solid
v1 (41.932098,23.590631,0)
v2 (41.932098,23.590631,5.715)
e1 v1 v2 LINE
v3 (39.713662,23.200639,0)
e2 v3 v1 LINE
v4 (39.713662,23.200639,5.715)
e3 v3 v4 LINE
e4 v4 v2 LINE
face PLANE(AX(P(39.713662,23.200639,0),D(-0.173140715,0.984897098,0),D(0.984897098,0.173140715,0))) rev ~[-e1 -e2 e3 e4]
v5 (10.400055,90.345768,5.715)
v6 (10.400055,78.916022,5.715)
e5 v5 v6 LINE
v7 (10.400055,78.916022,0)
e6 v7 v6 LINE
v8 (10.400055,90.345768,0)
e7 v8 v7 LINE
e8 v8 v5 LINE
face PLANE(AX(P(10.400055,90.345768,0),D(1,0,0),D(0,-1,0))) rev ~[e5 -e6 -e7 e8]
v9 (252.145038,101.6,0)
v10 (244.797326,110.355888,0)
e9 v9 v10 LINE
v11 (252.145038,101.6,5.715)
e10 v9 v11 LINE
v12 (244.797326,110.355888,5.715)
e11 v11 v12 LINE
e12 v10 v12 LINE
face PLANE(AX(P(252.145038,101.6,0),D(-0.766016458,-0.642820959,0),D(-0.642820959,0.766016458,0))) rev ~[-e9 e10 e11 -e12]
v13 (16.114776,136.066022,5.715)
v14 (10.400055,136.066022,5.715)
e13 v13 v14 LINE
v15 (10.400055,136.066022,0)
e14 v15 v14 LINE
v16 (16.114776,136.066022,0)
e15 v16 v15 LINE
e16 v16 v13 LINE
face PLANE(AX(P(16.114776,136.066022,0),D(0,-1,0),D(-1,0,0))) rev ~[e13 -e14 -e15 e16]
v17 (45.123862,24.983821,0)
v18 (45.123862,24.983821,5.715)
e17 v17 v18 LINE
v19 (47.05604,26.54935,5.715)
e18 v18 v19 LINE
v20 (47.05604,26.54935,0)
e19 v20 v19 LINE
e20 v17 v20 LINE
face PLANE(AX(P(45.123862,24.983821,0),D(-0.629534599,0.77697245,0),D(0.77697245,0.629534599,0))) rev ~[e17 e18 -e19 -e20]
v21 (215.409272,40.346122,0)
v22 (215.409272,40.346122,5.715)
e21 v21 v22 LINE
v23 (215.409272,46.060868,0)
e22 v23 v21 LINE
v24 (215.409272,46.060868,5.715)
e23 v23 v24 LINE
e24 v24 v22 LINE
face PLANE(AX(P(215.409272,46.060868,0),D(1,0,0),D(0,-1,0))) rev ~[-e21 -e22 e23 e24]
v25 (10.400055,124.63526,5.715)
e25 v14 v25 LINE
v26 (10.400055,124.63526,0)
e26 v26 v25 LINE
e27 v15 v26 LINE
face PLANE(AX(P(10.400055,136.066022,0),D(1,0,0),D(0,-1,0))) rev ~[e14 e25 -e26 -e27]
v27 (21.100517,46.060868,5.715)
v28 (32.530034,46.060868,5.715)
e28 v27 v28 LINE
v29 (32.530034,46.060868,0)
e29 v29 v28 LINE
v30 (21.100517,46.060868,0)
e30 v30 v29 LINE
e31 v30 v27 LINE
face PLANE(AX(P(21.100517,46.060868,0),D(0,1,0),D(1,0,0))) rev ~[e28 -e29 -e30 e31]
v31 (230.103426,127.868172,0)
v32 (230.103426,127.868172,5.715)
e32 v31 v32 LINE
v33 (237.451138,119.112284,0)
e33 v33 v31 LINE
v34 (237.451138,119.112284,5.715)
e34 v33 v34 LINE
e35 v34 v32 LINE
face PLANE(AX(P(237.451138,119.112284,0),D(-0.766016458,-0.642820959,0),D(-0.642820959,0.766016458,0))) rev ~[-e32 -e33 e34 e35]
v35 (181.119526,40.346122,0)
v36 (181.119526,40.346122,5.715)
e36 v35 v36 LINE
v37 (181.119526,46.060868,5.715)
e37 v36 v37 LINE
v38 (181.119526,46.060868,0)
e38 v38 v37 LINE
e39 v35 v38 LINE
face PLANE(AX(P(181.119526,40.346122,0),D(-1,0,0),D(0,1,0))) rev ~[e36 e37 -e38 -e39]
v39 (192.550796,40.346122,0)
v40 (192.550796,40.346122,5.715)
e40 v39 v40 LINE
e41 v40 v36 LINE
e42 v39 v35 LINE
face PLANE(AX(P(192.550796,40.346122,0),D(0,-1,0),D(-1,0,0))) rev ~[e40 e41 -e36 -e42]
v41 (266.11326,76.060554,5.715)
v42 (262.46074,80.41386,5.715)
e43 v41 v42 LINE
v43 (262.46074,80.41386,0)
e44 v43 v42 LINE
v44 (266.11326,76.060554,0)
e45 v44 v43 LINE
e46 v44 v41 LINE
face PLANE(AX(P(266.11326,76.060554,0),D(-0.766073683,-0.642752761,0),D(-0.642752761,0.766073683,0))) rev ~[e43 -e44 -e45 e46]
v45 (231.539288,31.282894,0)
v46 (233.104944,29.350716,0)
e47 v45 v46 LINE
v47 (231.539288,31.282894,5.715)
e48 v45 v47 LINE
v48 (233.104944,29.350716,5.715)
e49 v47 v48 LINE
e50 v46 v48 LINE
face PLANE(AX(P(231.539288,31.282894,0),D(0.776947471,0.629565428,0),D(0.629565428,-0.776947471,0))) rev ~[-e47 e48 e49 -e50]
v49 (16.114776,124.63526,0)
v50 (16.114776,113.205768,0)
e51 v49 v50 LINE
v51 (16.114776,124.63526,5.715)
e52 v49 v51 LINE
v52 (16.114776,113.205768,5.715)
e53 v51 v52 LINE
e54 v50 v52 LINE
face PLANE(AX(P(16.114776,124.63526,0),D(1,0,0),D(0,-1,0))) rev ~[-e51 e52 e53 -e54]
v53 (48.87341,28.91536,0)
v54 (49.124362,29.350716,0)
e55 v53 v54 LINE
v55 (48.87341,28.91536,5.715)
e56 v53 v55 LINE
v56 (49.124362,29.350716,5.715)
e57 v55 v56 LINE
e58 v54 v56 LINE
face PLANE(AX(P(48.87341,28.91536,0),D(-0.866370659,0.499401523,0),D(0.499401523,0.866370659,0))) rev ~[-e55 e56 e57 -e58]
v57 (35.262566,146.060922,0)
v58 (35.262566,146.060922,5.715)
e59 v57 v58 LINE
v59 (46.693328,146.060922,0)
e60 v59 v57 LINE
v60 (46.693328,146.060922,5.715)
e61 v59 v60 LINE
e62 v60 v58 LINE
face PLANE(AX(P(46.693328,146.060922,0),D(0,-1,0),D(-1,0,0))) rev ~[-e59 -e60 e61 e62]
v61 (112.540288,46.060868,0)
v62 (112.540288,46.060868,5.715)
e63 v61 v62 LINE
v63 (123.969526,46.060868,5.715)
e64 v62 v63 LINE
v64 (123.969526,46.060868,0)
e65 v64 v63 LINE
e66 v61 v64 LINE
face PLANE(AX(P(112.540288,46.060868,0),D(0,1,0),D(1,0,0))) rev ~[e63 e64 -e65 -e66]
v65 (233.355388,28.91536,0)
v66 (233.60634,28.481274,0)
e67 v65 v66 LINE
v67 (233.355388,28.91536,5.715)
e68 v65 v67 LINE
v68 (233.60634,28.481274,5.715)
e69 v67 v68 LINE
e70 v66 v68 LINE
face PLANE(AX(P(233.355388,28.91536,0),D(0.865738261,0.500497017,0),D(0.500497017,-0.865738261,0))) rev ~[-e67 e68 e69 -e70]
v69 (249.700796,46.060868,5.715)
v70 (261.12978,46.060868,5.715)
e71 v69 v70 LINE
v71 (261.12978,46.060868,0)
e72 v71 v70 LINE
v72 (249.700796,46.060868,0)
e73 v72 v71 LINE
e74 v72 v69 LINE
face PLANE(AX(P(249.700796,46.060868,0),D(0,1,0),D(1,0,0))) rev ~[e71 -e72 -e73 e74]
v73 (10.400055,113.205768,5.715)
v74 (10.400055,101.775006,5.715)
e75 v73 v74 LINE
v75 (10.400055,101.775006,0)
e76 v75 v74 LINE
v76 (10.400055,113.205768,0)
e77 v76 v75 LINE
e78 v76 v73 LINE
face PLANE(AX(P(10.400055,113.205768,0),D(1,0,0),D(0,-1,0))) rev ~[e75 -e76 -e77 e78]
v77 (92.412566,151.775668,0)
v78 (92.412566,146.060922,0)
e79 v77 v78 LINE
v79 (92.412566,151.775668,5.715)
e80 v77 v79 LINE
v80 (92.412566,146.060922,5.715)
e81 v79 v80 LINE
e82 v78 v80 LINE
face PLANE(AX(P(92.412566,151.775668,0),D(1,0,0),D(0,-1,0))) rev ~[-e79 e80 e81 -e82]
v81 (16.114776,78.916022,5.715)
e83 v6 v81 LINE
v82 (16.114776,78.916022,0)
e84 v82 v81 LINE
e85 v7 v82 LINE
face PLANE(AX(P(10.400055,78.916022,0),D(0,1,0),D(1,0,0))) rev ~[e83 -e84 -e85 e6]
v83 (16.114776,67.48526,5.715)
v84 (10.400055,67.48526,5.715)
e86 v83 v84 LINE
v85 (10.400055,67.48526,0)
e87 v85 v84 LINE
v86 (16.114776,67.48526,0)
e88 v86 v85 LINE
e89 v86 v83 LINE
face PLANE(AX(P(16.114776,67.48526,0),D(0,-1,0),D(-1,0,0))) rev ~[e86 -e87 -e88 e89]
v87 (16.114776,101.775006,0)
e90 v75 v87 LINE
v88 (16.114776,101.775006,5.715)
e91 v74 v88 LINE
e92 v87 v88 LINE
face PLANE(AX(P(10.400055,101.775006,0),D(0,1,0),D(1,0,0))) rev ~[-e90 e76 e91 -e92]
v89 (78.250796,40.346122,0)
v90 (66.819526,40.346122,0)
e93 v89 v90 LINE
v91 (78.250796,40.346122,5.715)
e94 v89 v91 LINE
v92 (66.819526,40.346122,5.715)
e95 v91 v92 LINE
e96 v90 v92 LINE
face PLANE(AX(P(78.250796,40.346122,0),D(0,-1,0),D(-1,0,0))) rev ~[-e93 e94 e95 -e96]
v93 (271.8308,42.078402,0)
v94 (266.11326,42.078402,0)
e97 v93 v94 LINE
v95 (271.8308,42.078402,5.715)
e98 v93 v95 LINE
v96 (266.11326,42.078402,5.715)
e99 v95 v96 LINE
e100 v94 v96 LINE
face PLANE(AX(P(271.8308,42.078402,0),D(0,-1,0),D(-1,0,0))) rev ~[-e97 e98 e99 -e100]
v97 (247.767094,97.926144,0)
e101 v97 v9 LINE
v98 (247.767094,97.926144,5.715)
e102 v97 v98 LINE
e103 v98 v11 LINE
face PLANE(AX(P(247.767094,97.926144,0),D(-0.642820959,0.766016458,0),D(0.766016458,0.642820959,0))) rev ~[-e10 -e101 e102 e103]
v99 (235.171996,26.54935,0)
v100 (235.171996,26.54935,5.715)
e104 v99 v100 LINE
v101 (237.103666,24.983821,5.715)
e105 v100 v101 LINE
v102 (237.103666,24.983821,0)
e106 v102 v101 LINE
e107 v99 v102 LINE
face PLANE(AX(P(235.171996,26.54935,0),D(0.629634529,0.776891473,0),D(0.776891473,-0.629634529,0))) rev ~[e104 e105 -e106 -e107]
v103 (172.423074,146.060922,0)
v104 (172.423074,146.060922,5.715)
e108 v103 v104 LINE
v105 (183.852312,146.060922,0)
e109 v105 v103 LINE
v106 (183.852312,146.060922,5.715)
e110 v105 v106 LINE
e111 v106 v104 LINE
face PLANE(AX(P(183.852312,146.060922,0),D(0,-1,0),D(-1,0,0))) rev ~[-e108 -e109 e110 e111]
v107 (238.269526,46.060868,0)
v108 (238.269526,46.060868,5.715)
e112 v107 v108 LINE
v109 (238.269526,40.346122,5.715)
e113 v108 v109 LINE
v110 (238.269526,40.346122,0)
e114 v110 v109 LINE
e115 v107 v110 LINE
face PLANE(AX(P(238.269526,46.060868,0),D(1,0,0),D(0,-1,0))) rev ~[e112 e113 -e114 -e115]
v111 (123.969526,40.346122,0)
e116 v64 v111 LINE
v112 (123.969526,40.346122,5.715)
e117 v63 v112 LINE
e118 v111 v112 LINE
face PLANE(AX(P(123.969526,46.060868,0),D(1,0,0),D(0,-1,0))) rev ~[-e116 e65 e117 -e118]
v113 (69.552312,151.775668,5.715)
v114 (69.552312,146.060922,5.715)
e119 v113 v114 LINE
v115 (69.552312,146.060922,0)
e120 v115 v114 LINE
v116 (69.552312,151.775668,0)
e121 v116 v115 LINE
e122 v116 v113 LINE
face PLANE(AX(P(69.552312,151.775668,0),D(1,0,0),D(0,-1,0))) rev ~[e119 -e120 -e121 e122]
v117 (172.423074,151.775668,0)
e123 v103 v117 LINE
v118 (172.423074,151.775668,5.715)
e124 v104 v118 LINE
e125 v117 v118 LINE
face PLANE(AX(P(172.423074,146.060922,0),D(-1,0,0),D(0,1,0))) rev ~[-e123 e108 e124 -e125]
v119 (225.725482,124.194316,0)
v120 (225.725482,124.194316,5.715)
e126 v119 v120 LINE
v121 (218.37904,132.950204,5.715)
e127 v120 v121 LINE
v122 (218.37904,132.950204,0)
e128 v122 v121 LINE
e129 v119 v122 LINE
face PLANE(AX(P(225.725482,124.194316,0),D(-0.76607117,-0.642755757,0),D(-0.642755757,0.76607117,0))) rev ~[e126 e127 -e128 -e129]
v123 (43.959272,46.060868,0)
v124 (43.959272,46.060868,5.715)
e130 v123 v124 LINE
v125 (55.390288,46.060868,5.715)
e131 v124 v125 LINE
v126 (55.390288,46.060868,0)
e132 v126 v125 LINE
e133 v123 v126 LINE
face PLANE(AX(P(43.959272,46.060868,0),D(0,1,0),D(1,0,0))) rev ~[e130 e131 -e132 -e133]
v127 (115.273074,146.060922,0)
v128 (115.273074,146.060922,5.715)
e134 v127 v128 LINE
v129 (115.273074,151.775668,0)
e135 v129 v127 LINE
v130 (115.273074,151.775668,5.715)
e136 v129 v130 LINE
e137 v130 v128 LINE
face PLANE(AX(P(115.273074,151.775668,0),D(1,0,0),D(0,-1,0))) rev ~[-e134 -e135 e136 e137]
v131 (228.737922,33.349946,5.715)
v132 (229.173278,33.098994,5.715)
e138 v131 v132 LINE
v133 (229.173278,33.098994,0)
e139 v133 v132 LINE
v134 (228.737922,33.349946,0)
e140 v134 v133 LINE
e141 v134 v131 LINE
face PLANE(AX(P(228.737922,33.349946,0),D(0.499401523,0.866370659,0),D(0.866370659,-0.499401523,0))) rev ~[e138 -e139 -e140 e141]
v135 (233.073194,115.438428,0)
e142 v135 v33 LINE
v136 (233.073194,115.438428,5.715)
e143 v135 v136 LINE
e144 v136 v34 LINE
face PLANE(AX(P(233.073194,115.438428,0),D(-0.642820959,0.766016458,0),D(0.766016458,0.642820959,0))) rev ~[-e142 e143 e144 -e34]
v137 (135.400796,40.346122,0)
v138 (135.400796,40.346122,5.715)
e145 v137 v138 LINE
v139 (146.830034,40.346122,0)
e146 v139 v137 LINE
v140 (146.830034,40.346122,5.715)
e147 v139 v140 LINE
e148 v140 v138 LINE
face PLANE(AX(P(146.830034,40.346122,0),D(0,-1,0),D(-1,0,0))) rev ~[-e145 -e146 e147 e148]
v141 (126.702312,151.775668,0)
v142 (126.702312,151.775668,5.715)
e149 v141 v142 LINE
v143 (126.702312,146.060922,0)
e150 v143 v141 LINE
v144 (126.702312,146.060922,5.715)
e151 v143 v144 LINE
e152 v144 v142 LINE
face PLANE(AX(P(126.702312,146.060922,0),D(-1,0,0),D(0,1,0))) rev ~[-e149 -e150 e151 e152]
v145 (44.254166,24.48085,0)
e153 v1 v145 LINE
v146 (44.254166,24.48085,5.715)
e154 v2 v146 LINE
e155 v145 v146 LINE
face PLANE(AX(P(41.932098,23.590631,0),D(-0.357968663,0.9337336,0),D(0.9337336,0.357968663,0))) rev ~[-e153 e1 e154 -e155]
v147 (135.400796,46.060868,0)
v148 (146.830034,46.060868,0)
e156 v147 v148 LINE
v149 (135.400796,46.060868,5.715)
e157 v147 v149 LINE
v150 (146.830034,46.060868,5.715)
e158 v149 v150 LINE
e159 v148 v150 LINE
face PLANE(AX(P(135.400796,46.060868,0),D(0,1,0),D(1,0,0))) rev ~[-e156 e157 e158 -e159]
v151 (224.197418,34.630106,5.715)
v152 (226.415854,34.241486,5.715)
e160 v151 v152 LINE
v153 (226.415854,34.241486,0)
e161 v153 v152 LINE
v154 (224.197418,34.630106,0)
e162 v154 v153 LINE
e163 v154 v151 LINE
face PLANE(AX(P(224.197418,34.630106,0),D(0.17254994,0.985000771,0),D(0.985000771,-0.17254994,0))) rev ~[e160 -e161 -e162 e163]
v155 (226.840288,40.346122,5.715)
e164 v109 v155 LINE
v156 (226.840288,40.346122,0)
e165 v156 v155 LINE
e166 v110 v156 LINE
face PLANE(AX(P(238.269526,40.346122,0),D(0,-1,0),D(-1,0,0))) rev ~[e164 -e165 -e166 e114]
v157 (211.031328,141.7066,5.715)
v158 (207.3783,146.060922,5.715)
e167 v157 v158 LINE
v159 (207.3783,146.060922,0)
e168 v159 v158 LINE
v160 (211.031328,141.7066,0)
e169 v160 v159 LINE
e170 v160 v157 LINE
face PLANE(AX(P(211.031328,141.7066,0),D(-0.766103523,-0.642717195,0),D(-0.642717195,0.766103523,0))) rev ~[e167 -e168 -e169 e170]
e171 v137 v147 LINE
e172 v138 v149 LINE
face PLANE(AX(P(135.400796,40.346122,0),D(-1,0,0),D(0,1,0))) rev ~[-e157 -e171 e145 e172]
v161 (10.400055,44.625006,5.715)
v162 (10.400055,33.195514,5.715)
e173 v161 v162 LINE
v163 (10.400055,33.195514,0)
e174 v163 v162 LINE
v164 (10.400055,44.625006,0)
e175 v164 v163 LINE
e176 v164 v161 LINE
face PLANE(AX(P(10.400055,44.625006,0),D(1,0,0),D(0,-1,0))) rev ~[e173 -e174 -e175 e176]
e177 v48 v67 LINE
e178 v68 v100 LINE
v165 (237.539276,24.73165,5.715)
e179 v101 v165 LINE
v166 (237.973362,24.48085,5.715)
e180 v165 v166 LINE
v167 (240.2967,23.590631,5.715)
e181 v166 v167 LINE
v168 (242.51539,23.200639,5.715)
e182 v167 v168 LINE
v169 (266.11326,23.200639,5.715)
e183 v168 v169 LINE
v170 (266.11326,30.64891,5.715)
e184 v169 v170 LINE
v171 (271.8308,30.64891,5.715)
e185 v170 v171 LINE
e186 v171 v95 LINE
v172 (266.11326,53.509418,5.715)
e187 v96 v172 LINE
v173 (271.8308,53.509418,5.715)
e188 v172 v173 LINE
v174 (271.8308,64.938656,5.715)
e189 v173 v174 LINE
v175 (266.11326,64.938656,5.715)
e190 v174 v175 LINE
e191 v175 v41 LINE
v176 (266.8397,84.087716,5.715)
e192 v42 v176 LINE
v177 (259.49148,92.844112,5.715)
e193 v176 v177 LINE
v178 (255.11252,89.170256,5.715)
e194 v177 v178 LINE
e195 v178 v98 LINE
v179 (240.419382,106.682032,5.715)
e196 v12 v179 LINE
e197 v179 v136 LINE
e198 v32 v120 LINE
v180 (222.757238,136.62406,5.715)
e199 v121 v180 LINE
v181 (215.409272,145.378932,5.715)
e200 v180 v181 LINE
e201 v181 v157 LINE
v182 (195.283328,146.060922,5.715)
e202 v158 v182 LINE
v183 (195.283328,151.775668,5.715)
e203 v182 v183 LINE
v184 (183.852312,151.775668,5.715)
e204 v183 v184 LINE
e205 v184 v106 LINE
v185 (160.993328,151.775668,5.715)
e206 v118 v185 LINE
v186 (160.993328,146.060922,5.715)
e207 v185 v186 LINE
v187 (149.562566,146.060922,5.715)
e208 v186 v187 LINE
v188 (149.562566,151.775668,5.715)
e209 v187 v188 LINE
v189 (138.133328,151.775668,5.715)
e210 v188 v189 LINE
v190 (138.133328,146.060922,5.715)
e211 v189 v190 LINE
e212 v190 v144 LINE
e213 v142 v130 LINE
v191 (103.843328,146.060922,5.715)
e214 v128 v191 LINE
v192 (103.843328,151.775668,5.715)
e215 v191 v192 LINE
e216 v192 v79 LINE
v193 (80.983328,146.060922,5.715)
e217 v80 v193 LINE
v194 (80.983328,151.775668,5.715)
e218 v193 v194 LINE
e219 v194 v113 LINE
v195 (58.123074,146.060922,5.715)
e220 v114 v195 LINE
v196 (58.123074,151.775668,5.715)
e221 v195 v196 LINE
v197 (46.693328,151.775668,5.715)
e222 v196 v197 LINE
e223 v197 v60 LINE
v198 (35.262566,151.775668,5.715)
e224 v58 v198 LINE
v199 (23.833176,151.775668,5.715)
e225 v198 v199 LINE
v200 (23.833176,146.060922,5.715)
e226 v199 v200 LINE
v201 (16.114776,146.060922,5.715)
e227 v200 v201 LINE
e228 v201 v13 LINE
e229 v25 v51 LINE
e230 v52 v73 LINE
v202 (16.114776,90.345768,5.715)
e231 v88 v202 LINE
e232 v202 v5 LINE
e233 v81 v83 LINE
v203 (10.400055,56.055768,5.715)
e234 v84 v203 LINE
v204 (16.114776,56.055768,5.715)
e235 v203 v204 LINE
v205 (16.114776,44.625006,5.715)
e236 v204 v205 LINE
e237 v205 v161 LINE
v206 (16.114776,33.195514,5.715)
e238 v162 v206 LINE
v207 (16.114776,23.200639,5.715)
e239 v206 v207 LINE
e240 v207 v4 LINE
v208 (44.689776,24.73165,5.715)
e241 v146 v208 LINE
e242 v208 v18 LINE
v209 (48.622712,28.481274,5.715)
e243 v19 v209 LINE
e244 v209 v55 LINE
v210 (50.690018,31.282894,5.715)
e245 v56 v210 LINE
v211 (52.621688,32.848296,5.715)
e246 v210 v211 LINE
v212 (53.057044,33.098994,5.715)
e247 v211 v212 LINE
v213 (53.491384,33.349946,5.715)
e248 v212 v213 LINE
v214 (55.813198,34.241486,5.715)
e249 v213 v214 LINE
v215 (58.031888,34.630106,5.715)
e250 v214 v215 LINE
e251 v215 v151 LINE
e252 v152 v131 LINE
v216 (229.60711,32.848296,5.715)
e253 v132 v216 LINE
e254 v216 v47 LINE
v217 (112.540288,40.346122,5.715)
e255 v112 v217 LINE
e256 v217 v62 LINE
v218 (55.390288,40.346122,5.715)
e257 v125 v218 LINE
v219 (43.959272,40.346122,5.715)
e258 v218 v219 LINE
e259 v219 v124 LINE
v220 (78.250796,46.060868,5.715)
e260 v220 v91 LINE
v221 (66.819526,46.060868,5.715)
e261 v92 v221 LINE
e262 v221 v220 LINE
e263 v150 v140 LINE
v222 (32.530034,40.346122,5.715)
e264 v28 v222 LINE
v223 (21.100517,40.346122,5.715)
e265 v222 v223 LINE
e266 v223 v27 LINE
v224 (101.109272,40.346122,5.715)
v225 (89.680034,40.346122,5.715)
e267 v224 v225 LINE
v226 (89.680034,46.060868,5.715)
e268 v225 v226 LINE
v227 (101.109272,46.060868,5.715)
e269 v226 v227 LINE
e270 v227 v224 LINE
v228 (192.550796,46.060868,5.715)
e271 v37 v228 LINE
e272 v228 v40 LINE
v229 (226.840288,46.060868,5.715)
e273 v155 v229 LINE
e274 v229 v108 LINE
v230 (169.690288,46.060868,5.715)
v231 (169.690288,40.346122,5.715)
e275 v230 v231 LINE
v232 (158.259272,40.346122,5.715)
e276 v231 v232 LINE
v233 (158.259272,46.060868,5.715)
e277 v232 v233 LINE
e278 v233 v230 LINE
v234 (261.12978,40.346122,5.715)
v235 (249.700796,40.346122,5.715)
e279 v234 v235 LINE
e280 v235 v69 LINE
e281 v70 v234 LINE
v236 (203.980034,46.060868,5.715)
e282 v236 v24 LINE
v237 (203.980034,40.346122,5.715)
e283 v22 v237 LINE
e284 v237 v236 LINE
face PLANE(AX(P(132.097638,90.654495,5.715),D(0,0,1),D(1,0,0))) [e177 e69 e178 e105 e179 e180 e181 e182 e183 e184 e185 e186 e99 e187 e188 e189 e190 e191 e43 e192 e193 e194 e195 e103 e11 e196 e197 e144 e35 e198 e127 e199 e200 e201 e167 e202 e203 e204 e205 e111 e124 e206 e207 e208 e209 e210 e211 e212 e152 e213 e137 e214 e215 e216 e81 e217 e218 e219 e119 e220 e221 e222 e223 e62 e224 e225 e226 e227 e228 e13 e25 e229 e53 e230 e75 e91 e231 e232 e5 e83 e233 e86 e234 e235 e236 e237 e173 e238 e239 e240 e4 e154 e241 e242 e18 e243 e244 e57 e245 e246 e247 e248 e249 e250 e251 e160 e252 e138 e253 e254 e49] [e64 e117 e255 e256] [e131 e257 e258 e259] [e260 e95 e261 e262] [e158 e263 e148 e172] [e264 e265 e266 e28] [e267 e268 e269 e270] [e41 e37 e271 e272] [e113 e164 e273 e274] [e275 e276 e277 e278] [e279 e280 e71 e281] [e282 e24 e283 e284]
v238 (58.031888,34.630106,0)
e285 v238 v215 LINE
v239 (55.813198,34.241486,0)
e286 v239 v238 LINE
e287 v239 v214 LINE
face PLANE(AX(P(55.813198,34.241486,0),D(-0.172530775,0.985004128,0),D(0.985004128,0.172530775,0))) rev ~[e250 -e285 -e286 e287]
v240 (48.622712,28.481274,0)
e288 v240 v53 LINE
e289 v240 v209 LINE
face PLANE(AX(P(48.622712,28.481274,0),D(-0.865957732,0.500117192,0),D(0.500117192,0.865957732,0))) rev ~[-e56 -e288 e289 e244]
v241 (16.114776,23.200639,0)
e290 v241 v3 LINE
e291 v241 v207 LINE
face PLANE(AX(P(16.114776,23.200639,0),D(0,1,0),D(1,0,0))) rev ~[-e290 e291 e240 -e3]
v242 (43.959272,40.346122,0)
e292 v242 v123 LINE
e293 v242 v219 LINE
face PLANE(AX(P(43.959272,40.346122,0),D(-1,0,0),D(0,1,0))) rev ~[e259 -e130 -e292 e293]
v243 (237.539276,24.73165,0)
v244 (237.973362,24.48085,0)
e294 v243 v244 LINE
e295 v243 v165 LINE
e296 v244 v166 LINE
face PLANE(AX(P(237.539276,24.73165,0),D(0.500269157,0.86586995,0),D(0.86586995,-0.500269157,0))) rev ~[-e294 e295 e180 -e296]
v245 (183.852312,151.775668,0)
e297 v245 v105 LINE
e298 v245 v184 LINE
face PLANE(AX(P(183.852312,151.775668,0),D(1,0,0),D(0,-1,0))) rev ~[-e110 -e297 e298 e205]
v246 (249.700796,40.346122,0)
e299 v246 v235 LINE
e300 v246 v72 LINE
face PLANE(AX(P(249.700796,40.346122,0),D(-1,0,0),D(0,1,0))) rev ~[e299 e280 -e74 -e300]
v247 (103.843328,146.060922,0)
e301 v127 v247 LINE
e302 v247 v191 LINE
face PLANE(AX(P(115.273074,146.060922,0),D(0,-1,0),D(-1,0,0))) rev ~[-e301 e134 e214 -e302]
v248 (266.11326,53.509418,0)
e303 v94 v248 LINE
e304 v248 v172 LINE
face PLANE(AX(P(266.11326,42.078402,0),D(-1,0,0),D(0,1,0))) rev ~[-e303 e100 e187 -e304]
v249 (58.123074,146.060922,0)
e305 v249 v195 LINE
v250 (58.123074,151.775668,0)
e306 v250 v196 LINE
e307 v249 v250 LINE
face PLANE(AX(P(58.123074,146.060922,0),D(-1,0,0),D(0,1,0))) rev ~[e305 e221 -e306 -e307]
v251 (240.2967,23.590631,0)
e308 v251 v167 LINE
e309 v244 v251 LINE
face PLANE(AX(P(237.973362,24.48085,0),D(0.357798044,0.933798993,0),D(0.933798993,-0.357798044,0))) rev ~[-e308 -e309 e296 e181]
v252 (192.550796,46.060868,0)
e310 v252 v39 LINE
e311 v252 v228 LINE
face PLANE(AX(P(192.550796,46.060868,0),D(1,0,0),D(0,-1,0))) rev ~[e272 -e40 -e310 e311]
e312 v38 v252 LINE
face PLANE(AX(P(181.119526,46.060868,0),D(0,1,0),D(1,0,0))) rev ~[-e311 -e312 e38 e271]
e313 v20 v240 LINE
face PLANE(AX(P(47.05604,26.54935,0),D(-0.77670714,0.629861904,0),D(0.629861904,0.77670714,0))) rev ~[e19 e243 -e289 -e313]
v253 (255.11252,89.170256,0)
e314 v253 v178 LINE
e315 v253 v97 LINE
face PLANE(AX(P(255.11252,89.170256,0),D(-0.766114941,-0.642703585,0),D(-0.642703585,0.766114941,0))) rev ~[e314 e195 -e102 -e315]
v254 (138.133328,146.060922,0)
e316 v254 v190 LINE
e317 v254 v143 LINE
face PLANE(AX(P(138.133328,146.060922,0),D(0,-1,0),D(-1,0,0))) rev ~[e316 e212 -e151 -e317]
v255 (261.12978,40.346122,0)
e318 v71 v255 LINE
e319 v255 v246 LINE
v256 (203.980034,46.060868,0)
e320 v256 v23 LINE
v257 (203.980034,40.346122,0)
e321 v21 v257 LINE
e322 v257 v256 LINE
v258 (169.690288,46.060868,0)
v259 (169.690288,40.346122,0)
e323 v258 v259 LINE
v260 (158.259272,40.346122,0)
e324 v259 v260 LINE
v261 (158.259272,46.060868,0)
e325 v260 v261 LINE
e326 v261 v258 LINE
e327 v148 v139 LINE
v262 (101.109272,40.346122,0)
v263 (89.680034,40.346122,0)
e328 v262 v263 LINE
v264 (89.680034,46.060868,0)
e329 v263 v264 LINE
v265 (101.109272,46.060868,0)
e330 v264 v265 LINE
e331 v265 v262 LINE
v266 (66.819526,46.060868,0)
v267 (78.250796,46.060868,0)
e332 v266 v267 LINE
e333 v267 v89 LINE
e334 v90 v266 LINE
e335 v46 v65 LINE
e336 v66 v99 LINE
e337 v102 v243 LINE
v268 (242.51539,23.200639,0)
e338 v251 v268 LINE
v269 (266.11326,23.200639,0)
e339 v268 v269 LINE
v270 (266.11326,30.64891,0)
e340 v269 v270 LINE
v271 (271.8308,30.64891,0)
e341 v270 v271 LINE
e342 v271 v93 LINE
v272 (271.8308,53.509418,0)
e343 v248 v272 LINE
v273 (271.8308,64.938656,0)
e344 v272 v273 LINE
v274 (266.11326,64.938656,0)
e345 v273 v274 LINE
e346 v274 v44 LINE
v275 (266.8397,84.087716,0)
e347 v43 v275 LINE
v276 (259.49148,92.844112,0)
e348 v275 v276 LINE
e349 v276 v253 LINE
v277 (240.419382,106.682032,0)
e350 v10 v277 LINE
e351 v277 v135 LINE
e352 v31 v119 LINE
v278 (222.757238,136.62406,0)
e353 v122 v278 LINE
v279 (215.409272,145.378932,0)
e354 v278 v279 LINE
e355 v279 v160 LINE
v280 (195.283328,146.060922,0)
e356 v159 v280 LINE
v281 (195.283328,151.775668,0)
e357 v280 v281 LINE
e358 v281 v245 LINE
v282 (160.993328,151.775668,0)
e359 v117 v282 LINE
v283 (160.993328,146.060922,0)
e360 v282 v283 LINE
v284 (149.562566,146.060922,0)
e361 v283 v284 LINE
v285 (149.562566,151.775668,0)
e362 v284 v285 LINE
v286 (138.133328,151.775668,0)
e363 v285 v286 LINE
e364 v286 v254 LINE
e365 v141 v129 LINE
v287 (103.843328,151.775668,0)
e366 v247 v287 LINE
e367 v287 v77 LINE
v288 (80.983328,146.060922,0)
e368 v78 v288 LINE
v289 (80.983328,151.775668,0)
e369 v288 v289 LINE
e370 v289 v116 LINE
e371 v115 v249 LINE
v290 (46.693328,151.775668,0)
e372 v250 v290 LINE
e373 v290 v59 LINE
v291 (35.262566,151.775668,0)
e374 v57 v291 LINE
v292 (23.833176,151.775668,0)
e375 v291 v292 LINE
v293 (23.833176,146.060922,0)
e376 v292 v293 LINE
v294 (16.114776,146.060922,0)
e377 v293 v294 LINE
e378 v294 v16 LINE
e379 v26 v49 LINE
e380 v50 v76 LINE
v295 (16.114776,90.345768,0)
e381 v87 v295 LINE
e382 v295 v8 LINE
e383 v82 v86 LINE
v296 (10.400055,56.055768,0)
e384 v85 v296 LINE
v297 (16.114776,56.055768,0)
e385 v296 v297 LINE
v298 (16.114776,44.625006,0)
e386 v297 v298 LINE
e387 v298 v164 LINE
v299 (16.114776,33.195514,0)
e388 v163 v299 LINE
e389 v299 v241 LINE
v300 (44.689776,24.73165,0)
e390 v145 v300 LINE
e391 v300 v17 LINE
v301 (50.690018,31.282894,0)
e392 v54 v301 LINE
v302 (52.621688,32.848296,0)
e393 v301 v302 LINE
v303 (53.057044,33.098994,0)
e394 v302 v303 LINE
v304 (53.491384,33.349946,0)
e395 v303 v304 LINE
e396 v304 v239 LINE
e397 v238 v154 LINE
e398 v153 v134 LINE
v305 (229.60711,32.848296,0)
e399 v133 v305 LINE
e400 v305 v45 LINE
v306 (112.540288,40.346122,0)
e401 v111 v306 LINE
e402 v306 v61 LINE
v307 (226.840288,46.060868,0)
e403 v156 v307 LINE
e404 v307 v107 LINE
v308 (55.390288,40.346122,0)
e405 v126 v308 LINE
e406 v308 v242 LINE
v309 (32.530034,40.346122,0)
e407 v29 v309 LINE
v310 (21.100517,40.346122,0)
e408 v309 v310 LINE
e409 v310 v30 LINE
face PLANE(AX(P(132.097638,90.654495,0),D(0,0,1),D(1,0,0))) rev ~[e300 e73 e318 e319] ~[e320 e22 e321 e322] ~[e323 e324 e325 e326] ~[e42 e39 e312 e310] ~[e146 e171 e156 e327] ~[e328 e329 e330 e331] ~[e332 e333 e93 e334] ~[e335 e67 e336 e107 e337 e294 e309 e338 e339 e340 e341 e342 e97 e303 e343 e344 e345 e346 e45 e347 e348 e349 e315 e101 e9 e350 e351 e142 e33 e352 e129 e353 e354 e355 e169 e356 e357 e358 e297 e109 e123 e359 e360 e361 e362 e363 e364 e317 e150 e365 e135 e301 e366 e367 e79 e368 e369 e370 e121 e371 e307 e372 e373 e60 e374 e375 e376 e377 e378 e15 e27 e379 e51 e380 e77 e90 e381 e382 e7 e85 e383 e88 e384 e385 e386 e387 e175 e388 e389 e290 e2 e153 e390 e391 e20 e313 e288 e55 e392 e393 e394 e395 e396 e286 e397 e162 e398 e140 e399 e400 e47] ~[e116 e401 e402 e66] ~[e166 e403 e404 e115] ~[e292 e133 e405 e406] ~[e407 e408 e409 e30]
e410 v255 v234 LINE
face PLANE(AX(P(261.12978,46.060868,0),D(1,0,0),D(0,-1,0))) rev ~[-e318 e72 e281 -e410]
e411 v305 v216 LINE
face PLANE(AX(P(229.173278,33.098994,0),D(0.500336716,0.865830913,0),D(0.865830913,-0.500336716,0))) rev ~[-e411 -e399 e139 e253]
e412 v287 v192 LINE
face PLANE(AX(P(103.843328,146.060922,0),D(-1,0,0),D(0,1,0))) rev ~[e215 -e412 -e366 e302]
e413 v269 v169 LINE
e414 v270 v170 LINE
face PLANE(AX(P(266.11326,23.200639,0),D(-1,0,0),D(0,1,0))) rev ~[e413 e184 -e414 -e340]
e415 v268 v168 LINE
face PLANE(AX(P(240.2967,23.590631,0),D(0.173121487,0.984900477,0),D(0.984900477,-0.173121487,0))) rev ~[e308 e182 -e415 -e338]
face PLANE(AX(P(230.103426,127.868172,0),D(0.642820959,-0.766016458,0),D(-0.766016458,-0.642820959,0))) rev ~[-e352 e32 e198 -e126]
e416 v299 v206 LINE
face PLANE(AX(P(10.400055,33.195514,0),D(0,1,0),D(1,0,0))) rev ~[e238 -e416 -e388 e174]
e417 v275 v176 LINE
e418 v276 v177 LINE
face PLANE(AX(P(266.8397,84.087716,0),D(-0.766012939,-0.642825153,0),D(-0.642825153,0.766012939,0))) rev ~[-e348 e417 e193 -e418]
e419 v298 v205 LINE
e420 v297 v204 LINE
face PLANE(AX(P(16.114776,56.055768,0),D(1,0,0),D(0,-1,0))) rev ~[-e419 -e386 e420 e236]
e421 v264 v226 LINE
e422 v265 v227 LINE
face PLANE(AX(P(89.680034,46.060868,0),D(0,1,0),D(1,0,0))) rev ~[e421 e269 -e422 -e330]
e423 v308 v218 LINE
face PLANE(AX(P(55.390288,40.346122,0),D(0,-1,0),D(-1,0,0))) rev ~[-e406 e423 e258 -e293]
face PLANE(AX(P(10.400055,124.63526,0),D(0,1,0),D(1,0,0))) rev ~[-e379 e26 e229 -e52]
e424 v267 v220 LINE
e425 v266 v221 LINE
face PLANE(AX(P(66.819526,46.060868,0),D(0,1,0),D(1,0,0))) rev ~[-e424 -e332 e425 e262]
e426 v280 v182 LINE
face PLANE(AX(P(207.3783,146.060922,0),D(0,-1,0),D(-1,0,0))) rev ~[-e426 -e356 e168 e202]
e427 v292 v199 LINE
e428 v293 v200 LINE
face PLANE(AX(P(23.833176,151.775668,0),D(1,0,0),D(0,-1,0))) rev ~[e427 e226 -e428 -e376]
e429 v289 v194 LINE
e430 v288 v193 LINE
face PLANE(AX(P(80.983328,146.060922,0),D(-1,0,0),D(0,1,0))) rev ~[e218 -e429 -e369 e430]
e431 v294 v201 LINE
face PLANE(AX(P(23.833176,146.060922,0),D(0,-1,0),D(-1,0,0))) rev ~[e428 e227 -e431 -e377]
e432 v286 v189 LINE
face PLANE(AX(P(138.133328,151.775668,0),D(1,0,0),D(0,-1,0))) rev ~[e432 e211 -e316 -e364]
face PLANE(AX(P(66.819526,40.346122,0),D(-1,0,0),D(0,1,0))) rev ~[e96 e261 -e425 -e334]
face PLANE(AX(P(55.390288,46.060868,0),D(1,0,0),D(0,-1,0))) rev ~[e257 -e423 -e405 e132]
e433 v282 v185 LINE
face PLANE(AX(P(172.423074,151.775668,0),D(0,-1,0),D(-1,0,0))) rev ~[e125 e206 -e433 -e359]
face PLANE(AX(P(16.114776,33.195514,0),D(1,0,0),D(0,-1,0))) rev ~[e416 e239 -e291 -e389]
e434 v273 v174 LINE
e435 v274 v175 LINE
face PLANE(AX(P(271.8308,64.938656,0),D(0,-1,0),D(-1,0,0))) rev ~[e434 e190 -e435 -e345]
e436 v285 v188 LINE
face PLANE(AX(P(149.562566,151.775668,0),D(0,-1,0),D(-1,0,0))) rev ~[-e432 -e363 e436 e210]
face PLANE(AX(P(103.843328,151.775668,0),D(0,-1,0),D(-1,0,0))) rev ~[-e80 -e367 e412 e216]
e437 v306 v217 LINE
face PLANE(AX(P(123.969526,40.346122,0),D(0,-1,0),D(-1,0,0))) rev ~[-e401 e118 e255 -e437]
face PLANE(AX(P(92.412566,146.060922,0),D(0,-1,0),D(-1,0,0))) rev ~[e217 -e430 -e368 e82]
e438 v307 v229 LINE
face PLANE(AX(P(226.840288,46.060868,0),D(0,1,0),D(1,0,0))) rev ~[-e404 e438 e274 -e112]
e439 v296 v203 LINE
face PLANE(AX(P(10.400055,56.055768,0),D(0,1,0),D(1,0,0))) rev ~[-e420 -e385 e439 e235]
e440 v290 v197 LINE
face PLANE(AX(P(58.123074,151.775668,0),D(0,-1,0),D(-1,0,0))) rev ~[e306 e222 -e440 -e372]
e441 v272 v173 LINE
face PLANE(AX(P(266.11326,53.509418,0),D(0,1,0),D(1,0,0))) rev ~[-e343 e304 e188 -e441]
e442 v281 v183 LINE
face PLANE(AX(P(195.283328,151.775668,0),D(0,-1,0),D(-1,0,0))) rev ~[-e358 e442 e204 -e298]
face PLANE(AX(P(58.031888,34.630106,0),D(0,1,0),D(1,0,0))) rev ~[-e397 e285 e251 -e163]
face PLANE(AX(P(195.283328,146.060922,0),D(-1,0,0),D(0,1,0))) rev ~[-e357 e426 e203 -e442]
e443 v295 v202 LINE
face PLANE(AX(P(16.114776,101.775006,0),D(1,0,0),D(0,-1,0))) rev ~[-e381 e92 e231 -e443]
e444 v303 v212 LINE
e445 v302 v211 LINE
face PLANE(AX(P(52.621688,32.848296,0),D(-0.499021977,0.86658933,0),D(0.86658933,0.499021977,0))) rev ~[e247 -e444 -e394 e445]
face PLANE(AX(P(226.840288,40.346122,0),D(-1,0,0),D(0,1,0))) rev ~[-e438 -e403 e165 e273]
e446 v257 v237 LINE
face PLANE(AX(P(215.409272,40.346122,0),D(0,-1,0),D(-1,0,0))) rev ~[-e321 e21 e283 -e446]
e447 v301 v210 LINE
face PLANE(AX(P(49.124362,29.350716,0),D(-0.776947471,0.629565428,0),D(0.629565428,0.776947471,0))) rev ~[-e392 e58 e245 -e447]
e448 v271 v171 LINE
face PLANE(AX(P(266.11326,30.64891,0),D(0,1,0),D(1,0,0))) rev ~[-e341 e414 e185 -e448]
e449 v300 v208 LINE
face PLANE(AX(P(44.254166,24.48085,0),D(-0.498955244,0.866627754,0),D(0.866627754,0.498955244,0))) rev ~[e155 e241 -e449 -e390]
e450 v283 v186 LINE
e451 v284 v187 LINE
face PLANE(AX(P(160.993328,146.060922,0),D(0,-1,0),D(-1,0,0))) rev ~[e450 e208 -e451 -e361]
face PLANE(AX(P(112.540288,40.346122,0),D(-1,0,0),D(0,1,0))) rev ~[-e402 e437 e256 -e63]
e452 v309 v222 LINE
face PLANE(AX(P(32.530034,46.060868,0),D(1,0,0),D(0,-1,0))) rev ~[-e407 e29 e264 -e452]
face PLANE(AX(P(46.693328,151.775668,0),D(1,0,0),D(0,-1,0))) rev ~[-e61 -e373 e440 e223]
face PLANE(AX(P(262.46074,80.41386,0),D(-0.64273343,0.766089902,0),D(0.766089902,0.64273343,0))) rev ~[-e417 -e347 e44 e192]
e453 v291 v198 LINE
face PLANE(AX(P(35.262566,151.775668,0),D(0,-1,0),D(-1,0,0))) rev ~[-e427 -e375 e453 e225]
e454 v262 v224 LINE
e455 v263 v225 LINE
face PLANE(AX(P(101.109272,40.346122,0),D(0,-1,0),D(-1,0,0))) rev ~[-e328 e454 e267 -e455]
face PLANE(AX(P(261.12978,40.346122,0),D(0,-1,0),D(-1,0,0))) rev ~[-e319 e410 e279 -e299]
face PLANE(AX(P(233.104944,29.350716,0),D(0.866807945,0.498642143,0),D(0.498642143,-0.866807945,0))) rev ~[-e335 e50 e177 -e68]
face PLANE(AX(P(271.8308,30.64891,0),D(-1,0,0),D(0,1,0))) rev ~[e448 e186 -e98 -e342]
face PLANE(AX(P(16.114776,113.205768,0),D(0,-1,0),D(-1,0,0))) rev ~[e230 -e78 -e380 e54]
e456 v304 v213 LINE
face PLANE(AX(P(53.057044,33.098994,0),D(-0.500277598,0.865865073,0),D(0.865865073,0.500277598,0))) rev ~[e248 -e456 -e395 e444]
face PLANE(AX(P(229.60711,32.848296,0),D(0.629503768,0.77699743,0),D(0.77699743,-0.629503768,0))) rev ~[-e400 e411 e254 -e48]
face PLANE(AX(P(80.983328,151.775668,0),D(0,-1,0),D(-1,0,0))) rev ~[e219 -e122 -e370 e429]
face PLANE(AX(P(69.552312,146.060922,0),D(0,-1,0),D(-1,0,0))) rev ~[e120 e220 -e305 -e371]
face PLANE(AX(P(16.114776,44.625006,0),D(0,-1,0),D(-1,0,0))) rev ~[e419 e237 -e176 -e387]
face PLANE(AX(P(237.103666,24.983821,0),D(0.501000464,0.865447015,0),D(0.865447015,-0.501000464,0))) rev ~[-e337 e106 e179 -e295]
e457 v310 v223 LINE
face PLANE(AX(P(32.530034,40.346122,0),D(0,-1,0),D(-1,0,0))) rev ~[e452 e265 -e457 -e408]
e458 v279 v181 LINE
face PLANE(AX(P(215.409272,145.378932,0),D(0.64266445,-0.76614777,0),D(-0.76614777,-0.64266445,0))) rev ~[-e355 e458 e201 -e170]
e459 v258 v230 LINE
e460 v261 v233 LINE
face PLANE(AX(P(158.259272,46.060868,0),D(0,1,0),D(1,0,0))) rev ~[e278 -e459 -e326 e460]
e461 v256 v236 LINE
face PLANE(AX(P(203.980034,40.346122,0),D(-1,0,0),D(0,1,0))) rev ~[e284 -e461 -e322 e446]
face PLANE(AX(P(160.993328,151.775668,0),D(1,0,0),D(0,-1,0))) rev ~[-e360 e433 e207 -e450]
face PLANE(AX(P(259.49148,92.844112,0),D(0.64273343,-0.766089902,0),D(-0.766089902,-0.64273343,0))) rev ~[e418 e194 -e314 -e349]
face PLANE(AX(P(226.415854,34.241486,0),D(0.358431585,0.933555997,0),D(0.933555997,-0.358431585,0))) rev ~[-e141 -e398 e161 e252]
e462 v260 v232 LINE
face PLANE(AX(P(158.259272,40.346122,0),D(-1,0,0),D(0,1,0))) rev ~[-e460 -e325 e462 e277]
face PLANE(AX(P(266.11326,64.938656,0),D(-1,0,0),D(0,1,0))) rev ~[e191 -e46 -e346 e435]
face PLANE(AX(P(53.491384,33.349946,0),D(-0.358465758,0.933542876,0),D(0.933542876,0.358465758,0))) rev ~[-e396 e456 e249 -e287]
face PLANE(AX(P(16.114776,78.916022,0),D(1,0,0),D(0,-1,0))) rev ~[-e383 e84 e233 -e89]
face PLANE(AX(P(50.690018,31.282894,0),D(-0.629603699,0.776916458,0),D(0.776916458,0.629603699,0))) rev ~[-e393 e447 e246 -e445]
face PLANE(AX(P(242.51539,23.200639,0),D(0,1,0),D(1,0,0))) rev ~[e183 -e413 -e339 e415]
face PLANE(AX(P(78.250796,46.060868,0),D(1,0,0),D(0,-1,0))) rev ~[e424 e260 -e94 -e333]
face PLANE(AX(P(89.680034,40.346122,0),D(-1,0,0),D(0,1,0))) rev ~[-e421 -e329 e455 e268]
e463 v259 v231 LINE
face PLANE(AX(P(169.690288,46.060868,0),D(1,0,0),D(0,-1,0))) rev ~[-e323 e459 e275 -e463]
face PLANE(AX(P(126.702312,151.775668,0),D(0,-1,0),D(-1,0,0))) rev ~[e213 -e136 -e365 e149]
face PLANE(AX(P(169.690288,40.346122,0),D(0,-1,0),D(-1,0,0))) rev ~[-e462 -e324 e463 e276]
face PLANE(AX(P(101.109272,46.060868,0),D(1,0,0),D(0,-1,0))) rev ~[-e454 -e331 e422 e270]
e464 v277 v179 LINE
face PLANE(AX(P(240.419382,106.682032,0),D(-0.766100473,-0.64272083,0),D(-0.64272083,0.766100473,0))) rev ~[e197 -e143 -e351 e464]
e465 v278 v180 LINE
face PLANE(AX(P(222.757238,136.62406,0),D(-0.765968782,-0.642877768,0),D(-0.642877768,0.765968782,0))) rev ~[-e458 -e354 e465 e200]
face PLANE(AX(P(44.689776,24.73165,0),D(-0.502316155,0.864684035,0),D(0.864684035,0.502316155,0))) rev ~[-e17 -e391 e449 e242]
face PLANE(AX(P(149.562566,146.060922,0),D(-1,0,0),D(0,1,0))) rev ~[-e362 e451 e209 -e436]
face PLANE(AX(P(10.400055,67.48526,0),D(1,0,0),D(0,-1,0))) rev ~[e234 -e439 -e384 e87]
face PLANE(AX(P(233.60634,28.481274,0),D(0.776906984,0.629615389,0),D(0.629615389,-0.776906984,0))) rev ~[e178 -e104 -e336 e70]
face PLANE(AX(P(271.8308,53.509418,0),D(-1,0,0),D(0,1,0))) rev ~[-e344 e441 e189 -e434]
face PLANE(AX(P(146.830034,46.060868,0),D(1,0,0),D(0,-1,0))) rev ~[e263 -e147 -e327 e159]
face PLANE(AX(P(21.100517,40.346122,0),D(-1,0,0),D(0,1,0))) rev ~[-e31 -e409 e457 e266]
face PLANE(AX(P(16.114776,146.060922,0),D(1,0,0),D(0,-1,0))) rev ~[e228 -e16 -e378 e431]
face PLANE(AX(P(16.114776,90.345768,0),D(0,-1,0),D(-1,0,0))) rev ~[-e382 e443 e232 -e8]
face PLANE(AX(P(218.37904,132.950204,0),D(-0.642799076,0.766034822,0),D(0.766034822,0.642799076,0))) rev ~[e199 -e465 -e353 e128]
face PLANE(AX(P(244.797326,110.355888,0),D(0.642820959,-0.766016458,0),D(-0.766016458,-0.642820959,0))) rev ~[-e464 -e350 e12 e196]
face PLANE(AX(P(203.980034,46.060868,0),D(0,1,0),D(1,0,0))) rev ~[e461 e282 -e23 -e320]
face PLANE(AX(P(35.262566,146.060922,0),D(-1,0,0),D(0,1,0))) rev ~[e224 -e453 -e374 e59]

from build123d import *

# Parameters (mm, degrees)
BOSS_EXTRUDE1_DEPTH = 5.715


with BuildPart() as part:
    # Model → Boss-Extrude1 (new body)
    with BuildSketch(Plane.XY):
        Polygon((16.114776, 23.2006394), (38.974776, 23.2006394), (39.713662, 23.2006394), (41.932098, 23.590631), (44.254166, 24.4808502), (44.689776, 24.7316498), (45.123862, 24.983821), (47.05604, 26.54935), (48.622712, 28.481274), (48.87341, 28.91536), (49.124362, 29.350716), (50.690018, 31.282894), (52.621688, 32.848296), (53.057044, 33.098994), (53.491384, 33.349946), (55.813198, 34.241486), (58.031888, 34.630106), (58.772044, 34.630106), (223.458532, 34.630106), (224.197418, 34.630106), (226.415854, 34.241486), (228.737922, 33.349946), (229.173278, 33.098994), (229.60711, 32.848296), (231.539288, 31.282894), (233.104944, 29.350716), (233.355388, 28.91536), (233.60634, 28.481274), (235.171996, 26.54935), (237.103666, 24.983821), (237.539276, 24.7316498), (237.973362, 24.4808502), (240.2967, 23.590631), (242.51539, 23.2006394), (243.255546, 23.2006394), (266.11326, 23.2006394), (266.11326, 30.64891), (271.8308, 30.64891), (271.8308, 42.078402), (266.11326, 42.078402), (266.11326, 53.509418), (271.8308, 53.509418), (271.8308, 64.938656), (266.11326, 64.938656), (266.11326, 76.060554), (262.46074, 80.41386), (266.8397, 84.087716), (259.49148, 92.844112), (255.11252, 89.170256), (247.767094, 97.926144), (252.145038, 101.6), (244.797326, 110.355888), (240.419382, 106.682032), (233.073194, 115.438428), (237.451138, 119.112284), (230.103426, 127.868172), (225.725482, 124.194316), (218.37904, 132.950204), (222.757238, 136.62406), (215.409272, 145.378932), (211.031328, 141.7066), (207.3783, 146.060922), (195.283328, 146.060922), (195.283328, 151.775668), (183.852312, 151.775668), (183.852312, 146.060922), (172.423074, 146.060922), (172.423074, 151.775668), (160.993328, 151.775668), (160.993328, 146.060922), (149.562566, 146.060922), (149.562566, 151.775668), (138.133328, 151.775668), (138.133328, 146.060922), (126.702312, 146.060922), (126.702312, 151.775668), (115.273074, 151.775668), (115.273074, 146.060922), (103.843328, 146.060922), (103.843328, 151.775668), (92.412566, 151.775668), (92.412566, 146.060922), (80.983328, 146.060922), (80.983328, 151.775668), (69.552312, 151.775668), (69.552312, 146.060922), (58.123074, 146.060922), (58.123074, 151.775668), (46.693328, 151.775668), (46.693328, 146.060922), (35.262566, 146.060922), (35.262566, 151.775668), (23.8331756, 151.775668), (23.8331756, 146.060922), (16.114776, 146.060922), (16.114776, 136.066022), (10.4000554, 136.066022), (10.4000554, 124.63526), (16.114776, 124.63526), (16.114776, 113.205768), (10.4000554, 113.205768), (10.4000554, 101.775006), (16.114776, 101.775006), (16.114776, 90.345768), (10.4000554, 90.345768), (10.4000554, 78.916022), (16.114776, 78.916022), (16.114776, 67.48526), (10.4000554, 67.48526), (10.4000554, 56.055768), (16.114776, 56.055768), (16.114776, 44.625006), (10.4000554, 44.625006), (10.4000554, 33.195514), (16.114776, 33.195514), align=None)
        Polygon((26.815288, 40.346122), (21.1005166, 40.346122), (21.1005166, 46.060868), (32.530034, 46.060868), (32.530034, 40.346122), align=None, mode=Mode.SUBTRACT)
        Polygon((49.675796, 40.346122), (43.959272, 40.346122), (43.959272, 46.060868), (55.390288, 46.060868), (55.390288, 40.346122), align=None, mode=Mode.SUBTRACT)
        Polygon((72.534272, 40.346122), (66.819526, 40.346122), (66.819526, 46.060868), (78.250796, 46.060868), (78.250796, 40.346122), align=None, mode=Mode.SUBTRACT)
        Polygon((95.394526, 40.346122), (89.680034, 40.346122), (89.680034, 46.060868), (101.109272, 46.060868), (101.109272, 40.346122), align=None, mode=Mode.SUBTRACT)
        Polygon((118.255034, 40.346122), (112.540288, 40.346122), (112.540288, 46.060868), (123.969526, 46.060868), (123.969526, 40.346122), align=None, mode=Mode.SUBTRACT)
        Polygon((141.115288, 40.346122), (135.400796, 40.346122), (135.400796, 46.060868), (146.830034, 46.060868), (146.830034, 40.346122), align=None, mode=Mode.SUBTRACT)
        Polygon((163.975796, 40.346122), (158.259272, 40.346122), (158.259272, 46.060868), (169.690288, 46.060868), (169.690288, 40.346122), align=None, mode=Mode.SUBTRACT)
        Polygon((186.834272, 40.346122), (181.119526, 40.346122), (181.119526, 46.060868), (192.550796, 46.060868), (192.550796, 40.346122), align=None, mode=Mode.SUBTRACT)
        Polygon((209.694526, 40.346122), (203.980034, 40.346122), (203.980034, 46.060868), (215.409272, 46.060868), (215.409272, 40.346122), align=None, mode=Mode.SUBTRACT)
        Polygon((232.555034, 40.346122), (226.840288, 40.346122), (226.840288, 46.060868), (238.269526, 46.060868), (238.269526, 40.346122), align=None, mode=Mode.SUBTRACT)
        Polygon((255.41478, 40.346122), (249.700796, 40.346122), (249.700796, 46.060868), (261.12978, 46.060868), (261.12978, 40.346122), align=None, mode=Mode.SUBTRACT)
    extrude(amount=BOSS_EXTRUDE1_DEPTH)


solid = part.part
